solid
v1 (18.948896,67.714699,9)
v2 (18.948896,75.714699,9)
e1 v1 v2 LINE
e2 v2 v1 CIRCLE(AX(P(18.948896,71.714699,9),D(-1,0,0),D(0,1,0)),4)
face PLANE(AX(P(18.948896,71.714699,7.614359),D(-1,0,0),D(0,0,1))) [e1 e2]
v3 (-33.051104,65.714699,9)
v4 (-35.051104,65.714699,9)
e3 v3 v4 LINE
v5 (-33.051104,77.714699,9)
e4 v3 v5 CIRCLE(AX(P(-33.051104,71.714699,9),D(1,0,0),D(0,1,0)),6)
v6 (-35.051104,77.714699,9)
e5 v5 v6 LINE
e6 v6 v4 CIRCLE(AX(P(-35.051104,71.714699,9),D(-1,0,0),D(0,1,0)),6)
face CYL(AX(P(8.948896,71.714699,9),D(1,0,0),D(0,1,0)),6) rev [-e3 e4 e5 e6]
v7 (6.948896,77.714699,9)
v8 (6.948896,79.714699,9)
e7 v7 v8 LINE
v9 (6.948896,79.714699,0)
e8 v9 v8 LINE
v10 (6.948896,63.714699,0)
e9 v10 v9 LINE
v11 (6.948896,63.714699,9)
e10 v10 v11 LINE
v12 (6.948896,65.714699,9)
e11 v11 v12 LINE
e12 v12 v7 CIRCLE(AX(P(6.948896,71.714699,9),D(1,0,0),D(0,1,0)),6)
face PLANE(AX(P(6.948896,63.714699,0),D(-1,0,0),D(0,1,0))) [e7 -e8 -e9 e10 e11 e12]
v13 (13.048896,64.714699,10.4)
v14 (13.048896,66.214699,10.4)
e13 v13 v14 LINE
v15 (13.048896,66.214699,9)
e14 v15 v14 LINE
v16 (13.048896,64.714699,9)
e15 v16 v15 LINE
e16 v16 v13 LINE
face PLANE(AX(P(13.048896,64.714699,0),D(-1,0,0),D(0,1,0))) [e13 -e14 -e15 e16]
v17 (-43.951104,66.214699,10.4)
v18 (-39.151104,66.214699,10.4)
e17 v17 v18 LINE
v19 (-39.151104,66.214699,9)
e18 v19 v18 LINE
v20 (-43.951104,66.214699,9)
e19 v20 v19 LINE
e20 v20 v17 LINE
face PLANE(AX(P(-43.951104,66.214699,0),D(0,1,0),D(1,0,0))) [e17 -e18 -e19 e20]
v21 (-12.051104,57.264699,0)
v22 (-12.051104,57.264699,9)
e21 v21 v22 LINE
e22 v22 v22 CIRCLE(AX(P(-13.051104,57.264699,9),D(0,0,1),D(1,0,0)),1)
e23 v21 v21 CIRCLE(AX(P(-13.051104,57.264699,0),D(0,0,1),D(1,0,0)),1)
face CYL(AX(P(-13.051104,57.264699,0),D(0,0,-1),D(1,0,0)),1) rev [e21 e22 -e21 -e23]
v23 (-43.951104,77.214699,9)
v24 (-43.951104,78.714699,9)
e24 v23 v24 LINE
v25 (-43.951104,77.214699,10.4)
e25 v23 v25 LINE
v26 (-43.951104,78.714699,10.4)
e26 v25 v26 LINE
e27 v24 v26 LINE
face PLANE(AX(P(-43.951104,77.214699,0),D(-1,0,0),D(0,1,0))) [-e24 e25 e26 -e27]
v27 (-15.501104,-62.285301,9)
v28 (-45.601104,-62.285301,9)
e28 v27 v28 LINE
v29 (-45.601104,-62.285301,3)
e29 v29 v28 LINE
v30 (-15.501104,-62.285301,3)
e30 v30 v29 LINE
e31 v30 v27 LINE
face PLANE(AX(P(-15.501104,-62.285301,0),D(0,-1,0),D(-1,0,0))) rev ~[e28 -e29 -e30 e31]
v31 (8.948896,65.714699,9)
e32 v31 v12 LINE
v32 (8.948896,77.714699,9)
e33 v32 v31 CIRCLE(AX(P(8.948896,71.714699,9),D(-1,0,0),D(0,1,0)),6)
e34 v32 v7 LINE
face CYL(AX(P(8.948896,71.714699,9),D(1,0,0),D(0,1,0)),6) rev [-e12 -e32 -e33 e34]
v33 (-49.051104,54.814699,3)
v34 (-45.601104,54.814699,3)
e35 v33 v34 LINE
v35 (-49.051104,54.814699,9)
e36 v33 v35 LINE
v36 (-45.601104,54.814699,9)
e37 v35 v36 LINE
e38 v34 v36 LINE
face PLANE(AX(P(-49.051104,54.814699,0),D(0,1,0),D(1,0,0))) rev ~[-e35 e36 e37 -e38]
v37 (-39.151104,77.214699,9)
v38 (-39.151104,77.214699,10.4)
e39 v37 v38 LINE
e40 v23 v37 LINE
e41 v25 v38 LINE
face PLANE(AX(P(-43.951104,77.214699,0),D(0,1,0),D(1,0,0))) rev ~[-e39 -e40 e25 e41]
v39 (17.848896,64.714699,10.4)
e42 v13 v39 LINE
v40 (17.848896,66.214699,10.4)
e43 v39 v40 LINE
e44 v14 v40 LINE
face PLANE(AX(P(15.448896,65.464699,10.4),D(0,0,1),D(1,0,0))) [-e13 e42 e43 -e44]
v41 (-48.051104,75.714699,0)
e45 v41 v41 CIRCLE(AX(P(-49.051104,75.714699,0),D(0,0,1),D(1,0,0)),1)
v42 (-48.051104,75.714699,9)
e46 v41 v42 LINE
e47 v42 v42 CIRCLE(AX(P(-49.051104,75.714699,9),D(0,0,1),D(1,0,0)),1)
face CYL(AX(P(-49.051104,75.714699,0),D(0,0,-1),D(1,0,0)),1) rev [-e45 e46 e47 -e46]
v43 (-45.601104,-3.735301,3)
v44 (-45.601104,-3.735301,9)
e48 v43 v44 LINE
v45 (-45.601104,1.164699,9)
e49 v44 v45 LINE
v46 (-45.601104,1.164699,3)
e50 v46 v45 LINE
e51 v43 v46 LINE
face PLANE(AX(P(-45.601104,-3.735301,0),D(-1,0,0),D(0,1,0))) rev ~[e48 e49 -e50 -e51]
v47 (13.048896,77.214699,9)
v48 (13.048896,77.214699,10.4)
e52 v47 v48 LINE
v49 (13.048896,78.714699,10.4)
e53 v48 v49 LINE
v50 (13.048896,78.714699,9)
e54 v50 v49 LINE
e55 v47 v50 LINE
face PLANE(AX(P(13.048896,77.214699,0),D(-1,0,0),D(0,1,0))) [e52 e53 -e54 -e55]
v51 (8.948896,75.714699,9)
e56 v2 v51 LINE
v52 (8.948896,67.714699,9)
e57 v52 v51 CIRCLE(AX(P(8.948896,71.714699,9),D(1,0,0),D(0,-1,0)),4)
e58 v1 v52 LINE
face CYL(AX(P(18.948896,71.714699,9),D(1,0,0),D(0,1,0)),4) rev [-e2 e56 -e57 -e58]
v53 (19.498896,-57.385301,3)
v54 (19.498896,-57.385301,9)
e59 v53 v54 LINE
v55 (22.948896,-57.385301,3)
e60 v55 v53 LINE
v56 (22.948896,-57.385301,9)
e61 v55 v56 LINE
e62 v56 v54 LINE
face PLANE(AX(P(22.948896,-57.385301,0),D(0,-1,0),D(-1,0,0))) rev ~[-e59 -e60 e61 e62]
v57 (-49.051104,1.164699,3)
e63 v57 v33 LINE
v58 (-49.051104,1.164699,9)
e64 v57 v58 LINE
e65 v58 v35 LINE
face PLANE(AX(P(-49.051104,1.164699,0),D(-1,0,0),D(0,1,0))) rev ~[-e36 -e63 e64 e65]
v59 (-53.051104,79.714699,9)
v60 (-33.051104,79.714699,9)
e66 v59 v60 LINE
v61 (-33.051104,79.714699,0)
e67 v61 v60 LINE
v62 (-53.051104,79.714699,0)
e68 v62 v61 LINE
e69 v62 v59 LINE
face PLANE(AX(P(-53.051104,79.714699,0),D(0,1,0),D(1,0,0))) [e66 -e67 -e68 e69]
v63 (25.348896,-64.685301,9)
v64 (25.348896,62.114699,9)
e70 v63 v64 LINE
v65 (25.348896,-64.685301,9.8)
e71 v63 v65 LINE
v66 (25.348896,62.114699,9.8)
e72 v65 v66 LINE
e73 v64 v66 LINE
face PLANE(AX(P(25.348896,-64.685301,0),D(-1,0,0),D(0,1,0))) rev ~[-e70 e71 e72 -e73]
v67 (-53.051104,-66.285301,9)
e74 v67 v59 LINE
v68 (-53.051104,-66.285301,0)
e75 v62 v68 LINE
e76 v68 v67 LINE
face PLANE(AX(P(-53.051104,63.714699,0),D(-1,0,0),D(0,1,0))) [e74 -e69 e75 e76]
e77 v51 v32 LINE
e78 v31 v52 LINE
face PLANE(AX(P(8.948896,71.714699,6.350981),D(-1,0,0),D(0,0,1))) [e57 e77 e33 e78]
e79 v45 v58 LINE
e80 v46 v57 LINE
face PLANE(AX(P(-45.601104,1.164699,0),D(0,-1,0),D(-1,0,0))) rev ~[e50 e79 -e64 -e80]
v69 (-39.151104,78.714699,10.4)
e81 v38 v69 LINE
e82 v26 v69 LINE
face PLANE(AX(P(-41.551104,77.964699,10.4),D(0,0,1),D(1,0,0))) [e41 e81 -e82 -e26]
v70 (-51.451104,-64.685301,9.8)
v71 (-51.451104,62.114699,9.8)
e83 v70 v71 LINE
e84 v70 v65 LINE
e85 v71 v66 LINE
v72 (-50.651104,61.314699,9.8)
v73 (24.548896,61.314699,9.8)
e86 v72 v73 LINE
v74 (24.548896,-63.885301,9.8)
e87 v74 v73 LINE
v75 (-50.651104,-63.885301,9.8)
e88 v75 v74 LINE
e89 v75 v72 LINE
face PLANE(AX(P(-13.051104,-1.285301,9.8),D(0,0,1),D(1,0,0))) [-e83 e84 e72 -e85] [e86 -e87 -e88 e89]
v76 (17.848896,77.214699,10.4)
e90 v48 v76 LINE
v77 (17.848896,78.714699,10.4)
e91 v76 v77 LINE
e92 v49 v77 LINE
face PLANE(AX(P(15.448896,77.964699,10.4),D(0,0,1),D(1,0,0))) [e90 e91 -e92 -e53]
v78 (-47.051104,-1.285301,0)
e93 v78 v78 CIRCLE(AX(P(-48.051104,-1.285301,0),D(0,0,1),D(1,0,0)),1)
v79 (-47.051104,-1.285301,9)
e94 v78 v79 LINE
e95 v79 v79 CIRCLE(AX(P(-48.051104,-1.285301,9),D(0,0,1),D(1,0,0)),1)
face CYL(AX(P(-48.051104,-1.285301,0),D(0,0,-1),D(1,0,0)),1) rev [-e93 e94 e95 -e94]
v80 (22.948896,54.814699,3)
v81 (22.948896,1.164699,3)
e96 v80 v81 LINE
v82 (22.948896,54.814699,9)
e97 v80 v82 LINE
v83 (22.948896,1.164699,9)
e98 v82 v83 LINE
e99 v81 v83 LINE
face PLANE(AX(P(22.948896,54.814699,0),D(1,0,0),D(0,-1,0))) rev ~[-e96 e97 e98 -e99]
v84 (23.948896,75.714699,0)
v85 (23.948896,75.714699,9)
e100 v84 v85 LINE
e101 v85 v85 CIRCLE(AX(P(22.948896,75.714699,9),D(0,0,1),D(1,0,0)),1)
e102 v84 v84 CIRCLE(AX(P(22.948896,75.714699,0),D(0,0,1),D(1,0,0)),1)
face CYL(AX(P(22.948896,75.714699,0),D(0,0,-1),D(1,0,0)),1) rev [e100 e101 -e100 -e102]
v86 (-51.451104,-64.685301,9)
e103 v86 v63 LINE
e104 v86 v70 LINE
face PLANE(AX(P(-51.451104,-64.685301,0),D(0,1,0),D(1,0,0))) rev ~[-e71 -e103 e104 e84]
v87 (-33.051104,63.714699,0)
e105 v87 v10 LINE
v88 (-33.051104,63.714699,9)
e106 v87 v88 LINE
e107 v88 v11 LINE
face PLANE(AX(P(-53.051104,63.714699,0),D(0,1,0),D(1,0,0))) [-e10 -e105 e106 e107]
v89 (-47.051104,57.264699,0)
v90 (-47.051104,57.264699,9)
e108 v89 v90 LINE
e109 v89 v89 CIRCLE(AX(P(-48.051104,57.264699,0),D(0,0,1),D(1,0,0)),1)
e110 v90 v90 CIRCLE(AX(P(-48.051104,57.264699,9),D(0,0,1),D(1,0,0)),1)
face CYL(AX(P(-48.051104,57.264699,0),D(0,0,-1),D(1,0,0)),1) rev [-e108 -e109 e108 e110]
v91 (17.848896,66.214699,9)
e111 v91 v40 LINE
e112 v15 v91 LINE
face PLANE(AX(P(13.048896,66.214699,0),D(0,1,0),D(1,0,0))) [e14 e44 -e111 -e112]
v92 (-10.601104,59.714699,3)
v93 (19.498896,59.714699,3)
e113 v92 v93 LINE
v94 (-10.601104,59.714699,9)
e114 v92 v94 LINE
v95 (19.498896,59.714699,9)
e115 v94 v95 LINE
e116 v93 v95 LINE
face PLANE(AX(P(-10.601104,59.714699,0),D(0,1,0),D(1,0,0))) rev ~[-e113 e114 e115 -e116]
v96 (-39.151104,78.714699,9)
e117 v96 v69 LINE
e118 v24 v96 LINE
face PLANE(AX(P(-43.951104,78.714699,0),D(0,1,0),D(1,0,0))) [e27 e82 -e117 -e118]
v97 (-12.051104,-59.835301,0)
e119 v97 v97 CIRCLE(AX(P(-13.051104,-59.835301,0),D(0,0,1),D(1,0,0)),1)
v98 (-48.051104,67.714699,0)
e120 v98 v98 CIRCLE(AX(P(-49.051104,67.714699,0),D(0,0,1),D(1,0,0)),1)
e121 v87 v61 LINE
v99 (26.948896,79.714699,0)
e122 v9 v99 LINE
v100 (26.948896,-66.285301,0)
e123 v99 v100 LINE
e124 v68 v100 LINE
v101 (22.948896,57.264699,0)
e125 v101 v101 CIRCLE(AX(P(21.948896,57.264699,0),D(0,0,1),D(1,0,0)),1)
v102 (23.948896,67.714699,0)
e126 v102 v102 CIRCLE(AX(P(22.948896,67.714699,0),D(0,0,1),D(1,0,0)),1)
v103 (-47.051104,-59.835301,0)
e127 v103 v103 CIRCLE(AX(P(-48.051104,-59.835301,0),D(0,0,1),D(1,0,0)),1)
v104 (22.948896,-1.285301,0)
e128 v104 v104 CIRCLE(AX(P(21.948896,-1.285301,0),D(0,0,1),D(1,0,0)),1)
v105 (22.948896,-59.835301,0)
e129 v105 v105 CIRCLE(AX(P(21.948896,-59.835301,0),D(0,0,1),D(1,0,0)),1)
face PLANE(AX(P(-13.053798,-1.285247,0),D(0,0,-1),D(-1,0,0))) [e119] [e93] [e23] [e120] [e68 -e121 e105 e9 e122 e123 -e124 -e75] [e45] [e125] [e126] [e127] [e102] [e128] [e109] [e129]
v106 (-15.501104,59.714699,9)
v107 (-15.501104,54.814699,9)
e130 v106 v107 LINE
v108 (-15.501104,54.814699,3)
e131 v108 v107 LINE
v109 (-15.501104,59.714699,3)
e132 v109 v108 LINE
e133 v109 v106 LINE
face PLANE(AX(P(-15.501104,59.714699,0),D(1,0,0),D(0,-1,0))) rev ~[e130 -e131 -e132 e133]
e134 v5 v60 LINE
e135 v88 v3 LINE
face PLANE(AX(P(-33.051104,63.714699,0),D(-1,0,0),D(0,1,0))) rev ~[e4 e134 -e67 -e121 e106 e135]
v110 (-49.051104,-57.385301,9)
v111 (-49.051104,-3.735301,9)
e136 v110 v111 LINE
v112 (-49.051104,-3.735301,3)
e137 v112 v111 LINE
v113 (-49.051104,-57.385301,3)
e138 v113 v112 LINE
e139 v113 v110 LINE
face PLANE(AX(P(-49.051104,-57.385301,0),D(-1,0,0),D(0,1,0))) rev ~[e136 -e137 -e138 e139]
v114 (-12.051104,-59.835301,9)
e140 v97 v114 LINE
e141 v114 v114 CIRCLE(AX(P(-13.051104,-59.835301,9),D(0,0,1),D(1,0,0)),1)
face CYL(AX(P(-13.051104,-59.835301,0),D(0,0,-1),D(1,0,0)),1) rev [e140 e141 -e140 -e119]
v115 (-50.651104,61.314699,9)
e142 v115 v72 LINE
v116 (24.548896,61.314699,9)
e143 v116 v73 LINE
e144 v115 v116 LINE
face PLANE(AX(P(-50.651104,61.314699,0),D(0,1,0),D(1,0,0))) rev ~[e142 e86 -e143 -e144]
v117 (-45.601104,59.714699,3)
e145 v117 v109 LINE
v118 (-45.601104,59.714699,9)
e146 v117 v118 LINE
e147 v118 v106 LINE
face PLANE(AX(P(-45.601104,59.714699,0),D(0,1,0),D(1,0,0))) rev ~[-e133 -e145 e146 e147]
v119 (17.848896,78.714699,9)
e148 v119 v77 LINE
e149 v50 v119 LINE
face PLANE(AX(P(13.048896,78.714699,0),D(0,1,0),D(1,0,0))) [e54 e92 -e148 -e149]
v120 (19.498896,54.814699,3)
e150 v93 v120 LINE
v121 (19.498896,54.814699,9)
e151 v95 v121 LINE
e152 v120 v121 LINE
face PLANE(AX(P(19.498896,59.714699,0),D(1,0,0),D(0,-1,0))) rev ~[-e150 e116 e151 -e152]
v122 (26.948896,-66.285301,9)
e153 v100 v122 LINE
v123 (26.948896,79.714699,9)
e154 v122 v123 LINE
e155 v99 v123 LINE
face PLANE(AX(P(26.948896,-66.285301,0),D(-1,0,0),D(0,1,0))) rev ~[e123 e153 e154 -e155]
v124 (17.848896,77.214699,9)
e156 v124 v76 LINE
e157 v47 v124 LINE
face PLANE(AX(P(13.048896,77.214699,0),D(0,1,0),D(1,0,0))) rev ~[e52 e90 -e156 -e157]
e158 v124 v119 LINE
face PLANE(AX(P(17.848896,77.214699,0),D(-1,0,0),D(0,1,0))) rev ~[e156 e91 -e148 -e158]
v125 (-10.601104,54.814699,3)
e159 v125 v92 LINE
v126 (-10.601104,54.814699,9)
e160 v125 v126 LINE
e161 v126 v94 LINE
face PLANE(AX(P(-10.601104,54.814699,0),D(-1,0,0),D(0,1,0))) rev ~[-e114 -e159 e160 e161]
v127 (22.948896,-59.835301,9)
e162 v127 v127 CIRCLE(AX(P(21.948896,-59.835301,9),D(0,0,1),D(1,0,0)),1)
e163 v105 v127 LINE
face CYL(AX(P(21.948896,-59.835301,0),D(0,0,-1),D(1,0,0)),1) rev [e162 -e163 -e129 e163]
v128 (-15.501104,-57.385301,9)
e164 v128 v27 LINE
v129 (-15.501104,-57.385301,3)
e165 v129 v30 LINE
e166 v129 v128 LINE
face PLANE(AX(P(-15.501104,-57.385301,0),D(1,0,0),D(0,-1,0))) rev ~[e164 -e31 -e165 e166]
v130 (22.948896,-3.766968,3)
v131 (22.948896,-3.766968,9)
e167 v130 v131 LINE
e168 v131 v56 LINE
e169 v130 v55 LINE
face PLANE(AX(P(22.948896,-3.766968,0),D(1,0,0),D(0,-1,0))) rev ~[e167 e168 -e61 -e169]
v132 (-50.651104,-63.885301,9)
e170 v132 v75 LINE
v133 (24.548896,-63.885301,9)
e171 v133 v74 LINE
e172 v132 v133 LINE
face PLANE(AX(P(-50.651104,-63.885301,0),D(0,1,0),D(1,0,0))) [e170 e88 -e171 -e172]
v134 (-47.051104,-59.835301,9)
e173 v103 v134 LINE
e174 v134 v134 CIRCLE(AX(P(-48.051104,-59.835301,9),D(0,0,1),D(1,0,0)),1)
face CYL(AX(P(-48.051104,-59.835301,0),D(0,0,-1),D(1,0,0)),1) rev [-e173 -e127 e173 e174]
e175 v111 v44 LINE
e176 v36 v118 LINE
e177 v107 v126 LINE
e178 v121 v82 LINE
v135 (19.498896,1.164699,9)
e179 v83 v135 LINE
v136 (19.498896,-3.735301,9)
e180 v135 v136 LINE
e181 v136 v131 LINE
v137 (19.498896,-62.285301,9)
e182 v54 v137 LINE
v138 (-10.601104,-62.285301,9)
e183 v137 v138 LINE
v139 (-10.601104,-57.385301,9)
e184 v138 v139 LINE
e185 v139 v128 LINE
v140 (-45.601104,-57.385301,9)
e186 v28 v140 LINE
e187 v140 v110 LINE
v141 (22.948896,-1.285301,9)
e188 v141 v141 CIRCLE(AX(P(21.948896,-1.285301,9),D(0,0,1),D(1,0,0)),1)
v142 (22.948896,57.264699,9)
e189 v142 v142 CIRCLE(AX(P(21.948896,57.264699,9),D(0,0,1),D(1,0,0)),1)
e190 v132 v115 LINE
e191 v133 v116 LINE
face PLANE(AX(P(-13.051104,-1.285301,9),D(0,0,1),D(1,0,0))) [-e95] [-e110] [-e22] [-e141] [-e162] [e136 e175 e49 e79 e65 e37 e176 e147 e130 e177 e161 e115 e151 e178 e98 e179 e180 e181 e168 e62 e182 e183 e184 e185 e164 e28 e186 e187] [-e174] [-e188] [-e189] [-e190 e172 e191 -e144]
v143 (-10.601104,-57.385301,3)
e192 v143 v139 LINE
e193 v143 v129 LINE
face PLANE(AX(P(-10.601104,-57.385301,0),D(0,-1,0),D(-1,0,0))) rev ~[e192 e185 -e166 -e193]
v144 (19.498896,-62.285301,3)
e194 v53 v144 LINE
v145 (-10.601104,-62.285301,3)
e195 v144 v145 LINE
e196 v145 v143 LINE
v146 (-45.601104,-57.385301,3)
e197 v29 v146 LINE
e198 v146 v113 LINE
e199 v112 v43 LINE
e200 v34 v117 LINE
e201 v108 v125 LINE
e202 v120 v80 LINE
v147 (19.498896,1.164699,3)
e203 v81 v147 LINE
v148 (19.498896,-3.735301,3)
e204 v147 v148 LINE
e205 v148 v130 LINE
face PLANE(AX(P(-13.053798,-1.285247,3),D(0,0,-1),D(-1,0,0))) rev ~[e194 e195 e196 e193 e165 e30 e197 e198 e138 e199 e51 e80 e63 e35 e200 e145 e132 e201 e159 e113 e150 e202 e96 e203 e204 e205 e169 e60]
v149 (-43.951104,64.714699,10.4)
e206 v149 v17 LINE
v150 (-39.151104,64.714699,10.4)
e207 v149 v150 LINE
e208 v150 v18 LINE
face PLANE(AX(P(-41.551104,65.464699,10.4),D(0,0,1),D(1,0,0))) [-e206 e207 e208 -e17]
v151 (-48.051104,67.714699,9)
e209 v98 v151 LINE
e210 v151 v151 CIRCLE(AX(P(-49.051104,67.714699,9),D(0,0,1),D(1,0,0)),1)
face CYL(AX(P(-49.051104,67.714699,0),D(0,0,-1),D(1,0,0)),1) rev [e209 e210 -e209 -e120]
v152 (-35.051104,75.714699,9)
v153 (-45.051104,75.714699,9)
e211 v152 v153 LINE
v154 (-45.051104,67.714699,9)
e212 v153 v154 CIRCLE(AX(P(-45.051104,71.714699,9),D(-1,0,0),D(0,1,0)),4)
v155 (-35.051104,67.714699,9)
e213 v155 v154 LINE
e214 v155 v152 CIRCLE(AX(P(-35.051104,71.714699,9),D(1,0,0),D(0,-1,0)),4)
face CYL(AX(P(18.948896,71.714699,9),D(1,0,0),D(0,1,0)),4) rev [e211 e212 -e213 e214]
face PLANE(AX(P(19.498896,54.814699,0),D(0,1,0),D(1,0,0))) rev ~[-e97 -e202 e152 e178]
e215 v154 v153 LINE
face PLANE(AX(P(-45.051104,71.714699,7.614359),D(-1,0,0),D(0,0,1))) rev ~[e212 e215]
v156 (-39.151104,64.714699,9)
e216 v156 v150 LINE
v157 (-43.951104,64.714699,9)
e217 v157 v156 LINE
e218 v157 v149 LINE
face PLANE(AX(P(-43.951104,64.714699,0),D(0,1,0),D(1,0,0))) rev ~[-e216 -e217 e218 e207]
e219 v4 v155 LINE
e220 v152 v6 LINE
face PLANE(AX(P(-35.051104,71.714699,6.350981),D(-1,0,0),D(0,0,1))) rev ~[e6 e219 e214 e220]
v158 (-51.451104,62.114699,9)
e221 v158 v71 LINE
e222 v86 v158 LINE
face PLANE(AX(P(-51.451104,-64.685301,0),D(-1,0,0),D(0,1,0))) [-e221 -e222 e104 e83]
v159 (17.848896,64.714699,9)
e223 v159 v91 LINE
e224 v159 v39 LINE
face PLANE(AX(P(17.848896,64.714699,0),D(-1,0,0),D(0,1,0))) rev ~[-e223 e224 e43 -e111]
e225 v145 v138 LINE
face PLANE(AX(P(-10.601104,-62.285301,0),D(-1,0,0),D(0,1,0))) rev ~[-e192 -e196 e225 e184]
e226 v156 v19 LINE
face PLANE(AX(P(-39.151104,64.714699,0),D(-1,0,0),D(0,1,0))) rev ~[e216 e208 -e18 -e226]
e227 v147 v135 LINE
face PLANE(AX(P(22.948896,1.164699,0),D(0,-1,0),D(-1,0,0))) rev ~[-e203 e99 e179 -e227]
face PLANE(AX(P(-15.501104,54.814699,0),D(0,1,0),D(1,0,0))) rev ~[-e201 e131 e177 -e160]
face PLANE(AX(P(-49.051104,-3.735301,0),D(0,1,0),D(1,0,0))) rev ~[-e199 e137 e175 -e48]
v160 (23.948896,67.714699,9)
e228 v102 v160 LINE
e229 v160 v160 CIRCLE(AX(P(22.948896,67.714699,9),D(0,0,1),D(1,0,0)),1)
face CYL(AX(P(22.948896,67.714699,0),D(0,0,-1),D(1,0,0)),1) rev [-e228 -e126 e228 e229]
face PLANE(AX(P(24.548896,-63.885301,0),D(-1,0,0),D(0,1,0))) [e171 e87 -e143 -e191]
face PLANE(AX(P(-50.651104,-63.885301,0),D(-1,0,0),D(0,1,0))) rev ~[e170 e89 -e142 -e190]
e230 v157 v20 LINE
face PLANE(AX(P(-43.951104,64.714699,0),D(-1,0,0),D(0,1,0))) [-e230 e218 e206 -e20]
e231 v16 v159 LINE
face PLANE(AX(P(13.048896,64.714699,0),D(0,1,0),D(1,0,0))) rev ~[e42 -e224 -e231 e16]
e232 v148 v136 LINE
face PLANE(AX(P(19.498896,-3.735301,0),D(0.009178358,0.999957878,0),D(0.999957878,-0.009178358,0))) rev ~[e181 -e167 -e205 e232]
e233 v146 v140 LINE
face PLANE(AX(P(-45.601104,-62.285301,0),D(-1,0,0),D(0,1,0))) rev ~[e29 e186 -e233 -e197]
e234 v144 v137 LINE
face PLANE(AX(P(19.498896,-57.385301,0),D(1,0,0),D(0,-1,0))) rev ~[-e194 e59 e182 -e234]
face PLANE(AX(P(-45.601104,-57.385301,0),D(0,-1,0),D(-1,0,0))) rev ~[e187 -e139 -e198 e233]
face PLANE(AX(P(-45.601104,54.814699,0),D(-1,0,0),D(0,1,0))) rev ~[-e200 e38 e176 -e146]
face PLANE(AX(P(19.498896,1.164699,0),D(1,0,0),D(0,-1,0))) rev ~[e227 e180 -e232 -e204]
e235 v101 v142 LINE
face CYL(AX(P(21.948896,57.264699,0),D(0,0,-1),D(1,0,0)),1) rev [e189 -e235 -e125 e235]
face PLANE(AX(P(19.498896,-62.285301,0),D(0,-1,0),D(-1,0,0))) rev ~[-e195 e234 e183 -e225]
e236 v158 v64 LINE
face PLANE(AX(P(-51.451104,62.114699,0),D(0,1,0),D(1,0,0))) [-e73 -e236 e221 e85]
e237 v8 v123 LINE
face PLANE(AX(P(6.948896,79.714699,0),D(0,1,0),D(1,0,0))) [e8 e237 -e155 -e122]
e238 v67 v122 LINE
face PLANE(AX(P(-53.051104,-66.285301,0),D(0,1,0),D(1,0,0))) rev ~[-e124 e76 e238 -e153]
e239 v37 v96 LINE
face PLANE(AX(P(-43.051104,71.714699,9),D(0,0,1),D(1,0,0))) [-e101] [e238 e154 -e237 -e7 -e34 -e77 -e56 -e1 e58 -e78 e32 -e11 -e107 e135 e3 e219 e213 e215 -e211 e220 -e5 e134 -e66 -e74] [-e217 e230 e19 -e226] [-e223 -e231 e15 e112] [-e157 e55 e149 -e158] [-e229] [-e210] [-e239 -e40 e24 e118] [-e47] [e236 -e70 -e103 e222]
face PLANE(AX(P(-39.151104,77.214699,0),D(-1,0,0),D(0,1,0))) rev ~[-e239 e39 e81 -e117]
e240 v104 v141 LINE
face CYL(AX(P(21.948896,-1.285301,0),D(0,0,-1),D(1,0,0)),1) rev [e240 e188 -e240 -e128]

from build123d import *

# Parameters (mm, degrees)
IZIM1_R                       = 1
IZIM1_W                       = 4.8
IZIM1_H                       = 1.5
IZIM1_W_2                     = 76.8
IZIM1_H_2                     = 126.8
Y_KSEKLIK_EKSTR_ZYON1_DEPTH   = 9
IZIM1_W_3                     = 75.2
IZIM1_H_3                     = 125.2
Y_KSEKLIK_EKSTR_ZYON1_2_DEPTH = 9
IZIM1_3_W                     = 4.8
IZIM1_3_H                     = 1.5
Y_KSEKLIK_EKSTR_ZYON2_DEPTH   = 10.4
IZIM1_4_W                     = 76.8
IZIM1_4_H                     = 126.8
IZIM1_4_W_2                   = 75.2
IZIM1_4_H_2                   = 125.2
Y_KSEKLIK_EKSTR_ZYON3_DEPTH   = 9.8
Y_KSEKLIK_EKSTR_ZYON4_DEPTH   = 3
KES_EKSTR_ZYON1_DEPTH         = 52
KES_EKSTR_ZYON1_DEPTH_BACK    = 12
KES_EKSTR_ZYON2_DEPTH         = 42
KES_EKSTR_ZYON2_DEPTH_BACK    = 2


with BuildPart() as part:
    # Çizim1 → Yükseklik-Ekstrüzyon1 (new body)
    with BuildSketch(Plane.XY):
        Polygon((-33.05110417, 63.714698522), (-33.05110417, 79.714698522), (-53.05110417, 79.714698522), (-53.05110417, -66.285301478), (26.94889583, -66.285301478), (26.94889583, 79.714698522), (6.94889583, 79.714698522), (6.94889583, 63.714698522), align=None)
        with Locations((-49.05110417, 67.714698522)):
            Circle(IZIM1_R, mode=Mode.SUBTRACT)
        with Locations((-49.05110417, 75.714698522)):
            Circle(IZIM1_R, mode=Mode.SUBTRACT)
        with Locations((-41.55110417, 65.464698522)):
            Rectangle(IZIM1_W, IZIM1_H, mode=Mode.SUBTRACT)
        with Locations((-41.55110417, 77.964698522)):
            Rectangle(IZIM1_W, IZIM1_H, mode=Mode.SUBTRACT)
        with Locations((-13.05110417, -1.285301478)):
            Rectangle(IZIM1_W_2, IZIM1_H_2, mode=Mode.SUBTRACT)
        with Locations((22.94889583, 75.714698522)):
            Circle(IZIM1_R, mode=Mode.SUBTRACT)
        with Locations((15.44889583, 65.464698522)):
            Rectangle(IZIM1_W, IZIM1_H, mode=Mode.SUBTRACT)
        with Locations((15.44889583, 77.964698522)):
            Rectangle(IZIM1_W, IZIM1_H, mode=Mode.SUBTRACT)
        with Locations((22.94889583, 67.714698522)):
            Circle(IZIM1_R, mode=Mode.SUBTRACT)
    extrude(amount=Y_KSEKLIK_EKSTR_ZYON1_DEPTH)

    # Çizim1<3> → Yükseklik-Ekstrüzyon2 (add)
    with BuildSketch(Plane.XY):
        with Locations((15.44889583, 65.464698522)):
            Rectangle(IZIM1_3_W, IZIM1_3_H)
        with Locations((15.44889583, 77.964698522)):
            Rectangle(IZIM1_3_W, IZIM1_3_H)
        with Locations((-41.55110417, 77.964698522)):
            Rectangle(IZIM1_3_W, IZIM1_3_H)
        with Locations((-41.55110417, 65.464698522)):
            Rectangle(IZIM1_3_W, IZIM1_3_H)
    extrude(amount=Y_KSEKLIK_EKSTR_ZYON2_DEPTH)



with BuildPart() as body_2:
    # Çizim1 → Y_kseklik-Ekstr_zyon1 2 (new body)
    with BuildSketch(Plane.XY):
        with Locations((-13.05110417, -1.285301478)):
            Rectangle(IZIM1_W_3, IZIM1_H_3)
        with Locations((-48.05110417, -59.835301478)):
            Circle(IZIM1_R, mode=Mode.SUBTRACT)
        with Locations((-48.05110417, -1.285301478)):
            Circle(IZIM1_R, mode=Mode.SUBTRACT)
        with Locations((-13.05110417, -59.835301478)):
            Circle(IZIM1_R, mode=Mode.SUBTRACT)
        with Locations((21.94889583, -59.835301478)):
            Circle(IZIM1_R, mode=Mode.SUBTRACT)
        Polygon((-49.05110417, 54.814698522), (-45.60110417, 54.814698522), (-45.60110417, 59.714698522), (-15.50110417, 59.714698522), (-15.50110417, 54.814698522), (-10.60110417, 54.814698522), (-10.60110417, 59.714698522), (19.49889583, 59.714698522), (19.49889583, 54.814698522), (22.94889583, 54.814698522), (22.94889583, 1.164698522), (19.49889583, 1.164698522), (19.49889583, -3.735301478), (22.94889583, -3.766968147), (22.94889583, -57.385301478), (19.49889583, -57.385301478), (19.49889583, -62.285301478), (-10.60110417, -62.285301478), (-10.60110417, -57.385301478), (-15.50110417, -57.385301478), (-15.50110417, -62.285301478), (-45.60110417, -62.285301478), (-45.60110417, -57.385301478), (-49.05110417, -57.385301478), (-49.05110417, -3.735301478), (-45.60110417, -3.735301478), (-45.60110417, 1.164698522), (-49.05110417, 1.164698522), align=None, mode=Mode.SUBTRACT)
        with Locations((21.94889583, -1.285301478)):
            Circle(IZIM1_R, mode=Mode.SUBTRACT)
        with Locations((-48.05110417, 57.264698522)):
            Circle(IZIM1_R, mode=Mode.SUBTRACT)
        with Locations((-13.05110417, 57.264698522)):
            Circle(IZIM1_R, mode=Mode.SUBTRACT)
        with Locations((21.94889583, 57.264698522)):
            Circle(IZIM1_R, mode=Mode.SUBTRACT)
    extrude(amount=Y_KSEKLIK_EKSTR_ZYON1_2_DEPTH)


with BuildPart() as part_1:
    add(part.part)

    add(body_2.part)  # Yükseklik-Ekstrüzyon3 merges body 2
    # Çizim1<4> → Yükseklik-Ekstrüzyon3 (add)
    with BuildSketch(Plane.XY):
        with Locations((-13.05110417, -1.285301478)):
            Rectangle(IZIM1_4_W, IZIM1_4_H)
        with Locations((-13.05110417, -1.285301478)):
            Rectangle(IZIM1_4_W_2, IZIM1_4_H_2, mode=Mode.SUBTRACT)
    extrude(amount=Y_KSEKLIK_EKSTR_ZYON3_DEPTH)

    # Çizim1<5> → Yükseklik-Ekstrüzyon4 (add)
    with BuildSketch(Plane.XY):
        Polygon((-45.60110417, 59.714698522), (-45.60110417, 54.814698522), (-49.05110417, 54.814698522), (-49.05110417, 1.164698522), (-45.60110417, 1.164698522), (-45.60110417, -3.735301478), (-49.05110417, -3.735301478), (-49.05110417, -57.385301478), (-45.60110417, -57.385301478), (-45.60110417, -62.285301478), (-15.50110417, -62.285301478), (-15.50110417, -57.385301478), (-10.60110417, -57.385301478), (-10.60110417, -62.285301478), (19.49889583, -62.285301478), (19.49889583, -57.385301478), (22.94889583, -57.385301478), (22.94889583, -3.766968147), (19.49889583, -3.735301478), (19.49889583, 1.164698522), (22.94889583, 1.164698522), (22.94889583, 54.814698522), (19.49889583, 54.814698522), (19.49889583, 59.714698522), (-10.60110417, 59.714698522), (-10.60110417, 54.814698522), (-15.50110417, 54.814698522), (-15.50110417, 59.714698522), align=None)
    extrude(amount=Y_KSEKLIK_EKSTR_ZYON4_DEPTH)

    # Çizim2 → Kes-Ekstrüzyon1 (cut, two sides: drawn at the far end of the back side and taken through both)
    with BuildSketch(Plane.ZY.offset(-6.94889583).offset(-KES_EKSTR_ZYON1_DEPTH_BACK)):
        with BuildLine():
            Line((9, 67.714698522), (9, 75.714698522))
            ThreePointArc((9, 75.714698522), (5, 71.714698522), (9, 67.714698522))
        make_face()
    extrude(amount=KES_EKSTR_ZYON1_DEPTH + KES_EKSTR_ZYON1_DEPTH_BACK, mode=Mode.SUBTRACT)

    # Çizim2<3> → Kes-Ekstrüzyon2 (cut, two sides: drawn at the far end of the back side and taken through both)
    with BuildSketch(Plane.ZY.offset(-6.94889583).offset(-KES_EKSTR_ZYON2_DEPTH_BACK)):
        with BuildLine():
            Line((9, 75.714698522), (9, 77.714698522))
            ThreePointArc((9, 77.714698522), (3, 71.714698522), (9, 65.714698522))
            Line((9, 65.714698522), (9, 67.714698522))
            ThreePointArc((9, 67.714698522), (5, 71.714698522), (9, 75.714698522))
        make_face()
    extrude(amount=KES_EKSTR_ZYON2_DEPTH + KES_EKSTR_ZYON2_DEPTH_BACK, mode=Mode.SUBTRACT)


solid = part_1.part
